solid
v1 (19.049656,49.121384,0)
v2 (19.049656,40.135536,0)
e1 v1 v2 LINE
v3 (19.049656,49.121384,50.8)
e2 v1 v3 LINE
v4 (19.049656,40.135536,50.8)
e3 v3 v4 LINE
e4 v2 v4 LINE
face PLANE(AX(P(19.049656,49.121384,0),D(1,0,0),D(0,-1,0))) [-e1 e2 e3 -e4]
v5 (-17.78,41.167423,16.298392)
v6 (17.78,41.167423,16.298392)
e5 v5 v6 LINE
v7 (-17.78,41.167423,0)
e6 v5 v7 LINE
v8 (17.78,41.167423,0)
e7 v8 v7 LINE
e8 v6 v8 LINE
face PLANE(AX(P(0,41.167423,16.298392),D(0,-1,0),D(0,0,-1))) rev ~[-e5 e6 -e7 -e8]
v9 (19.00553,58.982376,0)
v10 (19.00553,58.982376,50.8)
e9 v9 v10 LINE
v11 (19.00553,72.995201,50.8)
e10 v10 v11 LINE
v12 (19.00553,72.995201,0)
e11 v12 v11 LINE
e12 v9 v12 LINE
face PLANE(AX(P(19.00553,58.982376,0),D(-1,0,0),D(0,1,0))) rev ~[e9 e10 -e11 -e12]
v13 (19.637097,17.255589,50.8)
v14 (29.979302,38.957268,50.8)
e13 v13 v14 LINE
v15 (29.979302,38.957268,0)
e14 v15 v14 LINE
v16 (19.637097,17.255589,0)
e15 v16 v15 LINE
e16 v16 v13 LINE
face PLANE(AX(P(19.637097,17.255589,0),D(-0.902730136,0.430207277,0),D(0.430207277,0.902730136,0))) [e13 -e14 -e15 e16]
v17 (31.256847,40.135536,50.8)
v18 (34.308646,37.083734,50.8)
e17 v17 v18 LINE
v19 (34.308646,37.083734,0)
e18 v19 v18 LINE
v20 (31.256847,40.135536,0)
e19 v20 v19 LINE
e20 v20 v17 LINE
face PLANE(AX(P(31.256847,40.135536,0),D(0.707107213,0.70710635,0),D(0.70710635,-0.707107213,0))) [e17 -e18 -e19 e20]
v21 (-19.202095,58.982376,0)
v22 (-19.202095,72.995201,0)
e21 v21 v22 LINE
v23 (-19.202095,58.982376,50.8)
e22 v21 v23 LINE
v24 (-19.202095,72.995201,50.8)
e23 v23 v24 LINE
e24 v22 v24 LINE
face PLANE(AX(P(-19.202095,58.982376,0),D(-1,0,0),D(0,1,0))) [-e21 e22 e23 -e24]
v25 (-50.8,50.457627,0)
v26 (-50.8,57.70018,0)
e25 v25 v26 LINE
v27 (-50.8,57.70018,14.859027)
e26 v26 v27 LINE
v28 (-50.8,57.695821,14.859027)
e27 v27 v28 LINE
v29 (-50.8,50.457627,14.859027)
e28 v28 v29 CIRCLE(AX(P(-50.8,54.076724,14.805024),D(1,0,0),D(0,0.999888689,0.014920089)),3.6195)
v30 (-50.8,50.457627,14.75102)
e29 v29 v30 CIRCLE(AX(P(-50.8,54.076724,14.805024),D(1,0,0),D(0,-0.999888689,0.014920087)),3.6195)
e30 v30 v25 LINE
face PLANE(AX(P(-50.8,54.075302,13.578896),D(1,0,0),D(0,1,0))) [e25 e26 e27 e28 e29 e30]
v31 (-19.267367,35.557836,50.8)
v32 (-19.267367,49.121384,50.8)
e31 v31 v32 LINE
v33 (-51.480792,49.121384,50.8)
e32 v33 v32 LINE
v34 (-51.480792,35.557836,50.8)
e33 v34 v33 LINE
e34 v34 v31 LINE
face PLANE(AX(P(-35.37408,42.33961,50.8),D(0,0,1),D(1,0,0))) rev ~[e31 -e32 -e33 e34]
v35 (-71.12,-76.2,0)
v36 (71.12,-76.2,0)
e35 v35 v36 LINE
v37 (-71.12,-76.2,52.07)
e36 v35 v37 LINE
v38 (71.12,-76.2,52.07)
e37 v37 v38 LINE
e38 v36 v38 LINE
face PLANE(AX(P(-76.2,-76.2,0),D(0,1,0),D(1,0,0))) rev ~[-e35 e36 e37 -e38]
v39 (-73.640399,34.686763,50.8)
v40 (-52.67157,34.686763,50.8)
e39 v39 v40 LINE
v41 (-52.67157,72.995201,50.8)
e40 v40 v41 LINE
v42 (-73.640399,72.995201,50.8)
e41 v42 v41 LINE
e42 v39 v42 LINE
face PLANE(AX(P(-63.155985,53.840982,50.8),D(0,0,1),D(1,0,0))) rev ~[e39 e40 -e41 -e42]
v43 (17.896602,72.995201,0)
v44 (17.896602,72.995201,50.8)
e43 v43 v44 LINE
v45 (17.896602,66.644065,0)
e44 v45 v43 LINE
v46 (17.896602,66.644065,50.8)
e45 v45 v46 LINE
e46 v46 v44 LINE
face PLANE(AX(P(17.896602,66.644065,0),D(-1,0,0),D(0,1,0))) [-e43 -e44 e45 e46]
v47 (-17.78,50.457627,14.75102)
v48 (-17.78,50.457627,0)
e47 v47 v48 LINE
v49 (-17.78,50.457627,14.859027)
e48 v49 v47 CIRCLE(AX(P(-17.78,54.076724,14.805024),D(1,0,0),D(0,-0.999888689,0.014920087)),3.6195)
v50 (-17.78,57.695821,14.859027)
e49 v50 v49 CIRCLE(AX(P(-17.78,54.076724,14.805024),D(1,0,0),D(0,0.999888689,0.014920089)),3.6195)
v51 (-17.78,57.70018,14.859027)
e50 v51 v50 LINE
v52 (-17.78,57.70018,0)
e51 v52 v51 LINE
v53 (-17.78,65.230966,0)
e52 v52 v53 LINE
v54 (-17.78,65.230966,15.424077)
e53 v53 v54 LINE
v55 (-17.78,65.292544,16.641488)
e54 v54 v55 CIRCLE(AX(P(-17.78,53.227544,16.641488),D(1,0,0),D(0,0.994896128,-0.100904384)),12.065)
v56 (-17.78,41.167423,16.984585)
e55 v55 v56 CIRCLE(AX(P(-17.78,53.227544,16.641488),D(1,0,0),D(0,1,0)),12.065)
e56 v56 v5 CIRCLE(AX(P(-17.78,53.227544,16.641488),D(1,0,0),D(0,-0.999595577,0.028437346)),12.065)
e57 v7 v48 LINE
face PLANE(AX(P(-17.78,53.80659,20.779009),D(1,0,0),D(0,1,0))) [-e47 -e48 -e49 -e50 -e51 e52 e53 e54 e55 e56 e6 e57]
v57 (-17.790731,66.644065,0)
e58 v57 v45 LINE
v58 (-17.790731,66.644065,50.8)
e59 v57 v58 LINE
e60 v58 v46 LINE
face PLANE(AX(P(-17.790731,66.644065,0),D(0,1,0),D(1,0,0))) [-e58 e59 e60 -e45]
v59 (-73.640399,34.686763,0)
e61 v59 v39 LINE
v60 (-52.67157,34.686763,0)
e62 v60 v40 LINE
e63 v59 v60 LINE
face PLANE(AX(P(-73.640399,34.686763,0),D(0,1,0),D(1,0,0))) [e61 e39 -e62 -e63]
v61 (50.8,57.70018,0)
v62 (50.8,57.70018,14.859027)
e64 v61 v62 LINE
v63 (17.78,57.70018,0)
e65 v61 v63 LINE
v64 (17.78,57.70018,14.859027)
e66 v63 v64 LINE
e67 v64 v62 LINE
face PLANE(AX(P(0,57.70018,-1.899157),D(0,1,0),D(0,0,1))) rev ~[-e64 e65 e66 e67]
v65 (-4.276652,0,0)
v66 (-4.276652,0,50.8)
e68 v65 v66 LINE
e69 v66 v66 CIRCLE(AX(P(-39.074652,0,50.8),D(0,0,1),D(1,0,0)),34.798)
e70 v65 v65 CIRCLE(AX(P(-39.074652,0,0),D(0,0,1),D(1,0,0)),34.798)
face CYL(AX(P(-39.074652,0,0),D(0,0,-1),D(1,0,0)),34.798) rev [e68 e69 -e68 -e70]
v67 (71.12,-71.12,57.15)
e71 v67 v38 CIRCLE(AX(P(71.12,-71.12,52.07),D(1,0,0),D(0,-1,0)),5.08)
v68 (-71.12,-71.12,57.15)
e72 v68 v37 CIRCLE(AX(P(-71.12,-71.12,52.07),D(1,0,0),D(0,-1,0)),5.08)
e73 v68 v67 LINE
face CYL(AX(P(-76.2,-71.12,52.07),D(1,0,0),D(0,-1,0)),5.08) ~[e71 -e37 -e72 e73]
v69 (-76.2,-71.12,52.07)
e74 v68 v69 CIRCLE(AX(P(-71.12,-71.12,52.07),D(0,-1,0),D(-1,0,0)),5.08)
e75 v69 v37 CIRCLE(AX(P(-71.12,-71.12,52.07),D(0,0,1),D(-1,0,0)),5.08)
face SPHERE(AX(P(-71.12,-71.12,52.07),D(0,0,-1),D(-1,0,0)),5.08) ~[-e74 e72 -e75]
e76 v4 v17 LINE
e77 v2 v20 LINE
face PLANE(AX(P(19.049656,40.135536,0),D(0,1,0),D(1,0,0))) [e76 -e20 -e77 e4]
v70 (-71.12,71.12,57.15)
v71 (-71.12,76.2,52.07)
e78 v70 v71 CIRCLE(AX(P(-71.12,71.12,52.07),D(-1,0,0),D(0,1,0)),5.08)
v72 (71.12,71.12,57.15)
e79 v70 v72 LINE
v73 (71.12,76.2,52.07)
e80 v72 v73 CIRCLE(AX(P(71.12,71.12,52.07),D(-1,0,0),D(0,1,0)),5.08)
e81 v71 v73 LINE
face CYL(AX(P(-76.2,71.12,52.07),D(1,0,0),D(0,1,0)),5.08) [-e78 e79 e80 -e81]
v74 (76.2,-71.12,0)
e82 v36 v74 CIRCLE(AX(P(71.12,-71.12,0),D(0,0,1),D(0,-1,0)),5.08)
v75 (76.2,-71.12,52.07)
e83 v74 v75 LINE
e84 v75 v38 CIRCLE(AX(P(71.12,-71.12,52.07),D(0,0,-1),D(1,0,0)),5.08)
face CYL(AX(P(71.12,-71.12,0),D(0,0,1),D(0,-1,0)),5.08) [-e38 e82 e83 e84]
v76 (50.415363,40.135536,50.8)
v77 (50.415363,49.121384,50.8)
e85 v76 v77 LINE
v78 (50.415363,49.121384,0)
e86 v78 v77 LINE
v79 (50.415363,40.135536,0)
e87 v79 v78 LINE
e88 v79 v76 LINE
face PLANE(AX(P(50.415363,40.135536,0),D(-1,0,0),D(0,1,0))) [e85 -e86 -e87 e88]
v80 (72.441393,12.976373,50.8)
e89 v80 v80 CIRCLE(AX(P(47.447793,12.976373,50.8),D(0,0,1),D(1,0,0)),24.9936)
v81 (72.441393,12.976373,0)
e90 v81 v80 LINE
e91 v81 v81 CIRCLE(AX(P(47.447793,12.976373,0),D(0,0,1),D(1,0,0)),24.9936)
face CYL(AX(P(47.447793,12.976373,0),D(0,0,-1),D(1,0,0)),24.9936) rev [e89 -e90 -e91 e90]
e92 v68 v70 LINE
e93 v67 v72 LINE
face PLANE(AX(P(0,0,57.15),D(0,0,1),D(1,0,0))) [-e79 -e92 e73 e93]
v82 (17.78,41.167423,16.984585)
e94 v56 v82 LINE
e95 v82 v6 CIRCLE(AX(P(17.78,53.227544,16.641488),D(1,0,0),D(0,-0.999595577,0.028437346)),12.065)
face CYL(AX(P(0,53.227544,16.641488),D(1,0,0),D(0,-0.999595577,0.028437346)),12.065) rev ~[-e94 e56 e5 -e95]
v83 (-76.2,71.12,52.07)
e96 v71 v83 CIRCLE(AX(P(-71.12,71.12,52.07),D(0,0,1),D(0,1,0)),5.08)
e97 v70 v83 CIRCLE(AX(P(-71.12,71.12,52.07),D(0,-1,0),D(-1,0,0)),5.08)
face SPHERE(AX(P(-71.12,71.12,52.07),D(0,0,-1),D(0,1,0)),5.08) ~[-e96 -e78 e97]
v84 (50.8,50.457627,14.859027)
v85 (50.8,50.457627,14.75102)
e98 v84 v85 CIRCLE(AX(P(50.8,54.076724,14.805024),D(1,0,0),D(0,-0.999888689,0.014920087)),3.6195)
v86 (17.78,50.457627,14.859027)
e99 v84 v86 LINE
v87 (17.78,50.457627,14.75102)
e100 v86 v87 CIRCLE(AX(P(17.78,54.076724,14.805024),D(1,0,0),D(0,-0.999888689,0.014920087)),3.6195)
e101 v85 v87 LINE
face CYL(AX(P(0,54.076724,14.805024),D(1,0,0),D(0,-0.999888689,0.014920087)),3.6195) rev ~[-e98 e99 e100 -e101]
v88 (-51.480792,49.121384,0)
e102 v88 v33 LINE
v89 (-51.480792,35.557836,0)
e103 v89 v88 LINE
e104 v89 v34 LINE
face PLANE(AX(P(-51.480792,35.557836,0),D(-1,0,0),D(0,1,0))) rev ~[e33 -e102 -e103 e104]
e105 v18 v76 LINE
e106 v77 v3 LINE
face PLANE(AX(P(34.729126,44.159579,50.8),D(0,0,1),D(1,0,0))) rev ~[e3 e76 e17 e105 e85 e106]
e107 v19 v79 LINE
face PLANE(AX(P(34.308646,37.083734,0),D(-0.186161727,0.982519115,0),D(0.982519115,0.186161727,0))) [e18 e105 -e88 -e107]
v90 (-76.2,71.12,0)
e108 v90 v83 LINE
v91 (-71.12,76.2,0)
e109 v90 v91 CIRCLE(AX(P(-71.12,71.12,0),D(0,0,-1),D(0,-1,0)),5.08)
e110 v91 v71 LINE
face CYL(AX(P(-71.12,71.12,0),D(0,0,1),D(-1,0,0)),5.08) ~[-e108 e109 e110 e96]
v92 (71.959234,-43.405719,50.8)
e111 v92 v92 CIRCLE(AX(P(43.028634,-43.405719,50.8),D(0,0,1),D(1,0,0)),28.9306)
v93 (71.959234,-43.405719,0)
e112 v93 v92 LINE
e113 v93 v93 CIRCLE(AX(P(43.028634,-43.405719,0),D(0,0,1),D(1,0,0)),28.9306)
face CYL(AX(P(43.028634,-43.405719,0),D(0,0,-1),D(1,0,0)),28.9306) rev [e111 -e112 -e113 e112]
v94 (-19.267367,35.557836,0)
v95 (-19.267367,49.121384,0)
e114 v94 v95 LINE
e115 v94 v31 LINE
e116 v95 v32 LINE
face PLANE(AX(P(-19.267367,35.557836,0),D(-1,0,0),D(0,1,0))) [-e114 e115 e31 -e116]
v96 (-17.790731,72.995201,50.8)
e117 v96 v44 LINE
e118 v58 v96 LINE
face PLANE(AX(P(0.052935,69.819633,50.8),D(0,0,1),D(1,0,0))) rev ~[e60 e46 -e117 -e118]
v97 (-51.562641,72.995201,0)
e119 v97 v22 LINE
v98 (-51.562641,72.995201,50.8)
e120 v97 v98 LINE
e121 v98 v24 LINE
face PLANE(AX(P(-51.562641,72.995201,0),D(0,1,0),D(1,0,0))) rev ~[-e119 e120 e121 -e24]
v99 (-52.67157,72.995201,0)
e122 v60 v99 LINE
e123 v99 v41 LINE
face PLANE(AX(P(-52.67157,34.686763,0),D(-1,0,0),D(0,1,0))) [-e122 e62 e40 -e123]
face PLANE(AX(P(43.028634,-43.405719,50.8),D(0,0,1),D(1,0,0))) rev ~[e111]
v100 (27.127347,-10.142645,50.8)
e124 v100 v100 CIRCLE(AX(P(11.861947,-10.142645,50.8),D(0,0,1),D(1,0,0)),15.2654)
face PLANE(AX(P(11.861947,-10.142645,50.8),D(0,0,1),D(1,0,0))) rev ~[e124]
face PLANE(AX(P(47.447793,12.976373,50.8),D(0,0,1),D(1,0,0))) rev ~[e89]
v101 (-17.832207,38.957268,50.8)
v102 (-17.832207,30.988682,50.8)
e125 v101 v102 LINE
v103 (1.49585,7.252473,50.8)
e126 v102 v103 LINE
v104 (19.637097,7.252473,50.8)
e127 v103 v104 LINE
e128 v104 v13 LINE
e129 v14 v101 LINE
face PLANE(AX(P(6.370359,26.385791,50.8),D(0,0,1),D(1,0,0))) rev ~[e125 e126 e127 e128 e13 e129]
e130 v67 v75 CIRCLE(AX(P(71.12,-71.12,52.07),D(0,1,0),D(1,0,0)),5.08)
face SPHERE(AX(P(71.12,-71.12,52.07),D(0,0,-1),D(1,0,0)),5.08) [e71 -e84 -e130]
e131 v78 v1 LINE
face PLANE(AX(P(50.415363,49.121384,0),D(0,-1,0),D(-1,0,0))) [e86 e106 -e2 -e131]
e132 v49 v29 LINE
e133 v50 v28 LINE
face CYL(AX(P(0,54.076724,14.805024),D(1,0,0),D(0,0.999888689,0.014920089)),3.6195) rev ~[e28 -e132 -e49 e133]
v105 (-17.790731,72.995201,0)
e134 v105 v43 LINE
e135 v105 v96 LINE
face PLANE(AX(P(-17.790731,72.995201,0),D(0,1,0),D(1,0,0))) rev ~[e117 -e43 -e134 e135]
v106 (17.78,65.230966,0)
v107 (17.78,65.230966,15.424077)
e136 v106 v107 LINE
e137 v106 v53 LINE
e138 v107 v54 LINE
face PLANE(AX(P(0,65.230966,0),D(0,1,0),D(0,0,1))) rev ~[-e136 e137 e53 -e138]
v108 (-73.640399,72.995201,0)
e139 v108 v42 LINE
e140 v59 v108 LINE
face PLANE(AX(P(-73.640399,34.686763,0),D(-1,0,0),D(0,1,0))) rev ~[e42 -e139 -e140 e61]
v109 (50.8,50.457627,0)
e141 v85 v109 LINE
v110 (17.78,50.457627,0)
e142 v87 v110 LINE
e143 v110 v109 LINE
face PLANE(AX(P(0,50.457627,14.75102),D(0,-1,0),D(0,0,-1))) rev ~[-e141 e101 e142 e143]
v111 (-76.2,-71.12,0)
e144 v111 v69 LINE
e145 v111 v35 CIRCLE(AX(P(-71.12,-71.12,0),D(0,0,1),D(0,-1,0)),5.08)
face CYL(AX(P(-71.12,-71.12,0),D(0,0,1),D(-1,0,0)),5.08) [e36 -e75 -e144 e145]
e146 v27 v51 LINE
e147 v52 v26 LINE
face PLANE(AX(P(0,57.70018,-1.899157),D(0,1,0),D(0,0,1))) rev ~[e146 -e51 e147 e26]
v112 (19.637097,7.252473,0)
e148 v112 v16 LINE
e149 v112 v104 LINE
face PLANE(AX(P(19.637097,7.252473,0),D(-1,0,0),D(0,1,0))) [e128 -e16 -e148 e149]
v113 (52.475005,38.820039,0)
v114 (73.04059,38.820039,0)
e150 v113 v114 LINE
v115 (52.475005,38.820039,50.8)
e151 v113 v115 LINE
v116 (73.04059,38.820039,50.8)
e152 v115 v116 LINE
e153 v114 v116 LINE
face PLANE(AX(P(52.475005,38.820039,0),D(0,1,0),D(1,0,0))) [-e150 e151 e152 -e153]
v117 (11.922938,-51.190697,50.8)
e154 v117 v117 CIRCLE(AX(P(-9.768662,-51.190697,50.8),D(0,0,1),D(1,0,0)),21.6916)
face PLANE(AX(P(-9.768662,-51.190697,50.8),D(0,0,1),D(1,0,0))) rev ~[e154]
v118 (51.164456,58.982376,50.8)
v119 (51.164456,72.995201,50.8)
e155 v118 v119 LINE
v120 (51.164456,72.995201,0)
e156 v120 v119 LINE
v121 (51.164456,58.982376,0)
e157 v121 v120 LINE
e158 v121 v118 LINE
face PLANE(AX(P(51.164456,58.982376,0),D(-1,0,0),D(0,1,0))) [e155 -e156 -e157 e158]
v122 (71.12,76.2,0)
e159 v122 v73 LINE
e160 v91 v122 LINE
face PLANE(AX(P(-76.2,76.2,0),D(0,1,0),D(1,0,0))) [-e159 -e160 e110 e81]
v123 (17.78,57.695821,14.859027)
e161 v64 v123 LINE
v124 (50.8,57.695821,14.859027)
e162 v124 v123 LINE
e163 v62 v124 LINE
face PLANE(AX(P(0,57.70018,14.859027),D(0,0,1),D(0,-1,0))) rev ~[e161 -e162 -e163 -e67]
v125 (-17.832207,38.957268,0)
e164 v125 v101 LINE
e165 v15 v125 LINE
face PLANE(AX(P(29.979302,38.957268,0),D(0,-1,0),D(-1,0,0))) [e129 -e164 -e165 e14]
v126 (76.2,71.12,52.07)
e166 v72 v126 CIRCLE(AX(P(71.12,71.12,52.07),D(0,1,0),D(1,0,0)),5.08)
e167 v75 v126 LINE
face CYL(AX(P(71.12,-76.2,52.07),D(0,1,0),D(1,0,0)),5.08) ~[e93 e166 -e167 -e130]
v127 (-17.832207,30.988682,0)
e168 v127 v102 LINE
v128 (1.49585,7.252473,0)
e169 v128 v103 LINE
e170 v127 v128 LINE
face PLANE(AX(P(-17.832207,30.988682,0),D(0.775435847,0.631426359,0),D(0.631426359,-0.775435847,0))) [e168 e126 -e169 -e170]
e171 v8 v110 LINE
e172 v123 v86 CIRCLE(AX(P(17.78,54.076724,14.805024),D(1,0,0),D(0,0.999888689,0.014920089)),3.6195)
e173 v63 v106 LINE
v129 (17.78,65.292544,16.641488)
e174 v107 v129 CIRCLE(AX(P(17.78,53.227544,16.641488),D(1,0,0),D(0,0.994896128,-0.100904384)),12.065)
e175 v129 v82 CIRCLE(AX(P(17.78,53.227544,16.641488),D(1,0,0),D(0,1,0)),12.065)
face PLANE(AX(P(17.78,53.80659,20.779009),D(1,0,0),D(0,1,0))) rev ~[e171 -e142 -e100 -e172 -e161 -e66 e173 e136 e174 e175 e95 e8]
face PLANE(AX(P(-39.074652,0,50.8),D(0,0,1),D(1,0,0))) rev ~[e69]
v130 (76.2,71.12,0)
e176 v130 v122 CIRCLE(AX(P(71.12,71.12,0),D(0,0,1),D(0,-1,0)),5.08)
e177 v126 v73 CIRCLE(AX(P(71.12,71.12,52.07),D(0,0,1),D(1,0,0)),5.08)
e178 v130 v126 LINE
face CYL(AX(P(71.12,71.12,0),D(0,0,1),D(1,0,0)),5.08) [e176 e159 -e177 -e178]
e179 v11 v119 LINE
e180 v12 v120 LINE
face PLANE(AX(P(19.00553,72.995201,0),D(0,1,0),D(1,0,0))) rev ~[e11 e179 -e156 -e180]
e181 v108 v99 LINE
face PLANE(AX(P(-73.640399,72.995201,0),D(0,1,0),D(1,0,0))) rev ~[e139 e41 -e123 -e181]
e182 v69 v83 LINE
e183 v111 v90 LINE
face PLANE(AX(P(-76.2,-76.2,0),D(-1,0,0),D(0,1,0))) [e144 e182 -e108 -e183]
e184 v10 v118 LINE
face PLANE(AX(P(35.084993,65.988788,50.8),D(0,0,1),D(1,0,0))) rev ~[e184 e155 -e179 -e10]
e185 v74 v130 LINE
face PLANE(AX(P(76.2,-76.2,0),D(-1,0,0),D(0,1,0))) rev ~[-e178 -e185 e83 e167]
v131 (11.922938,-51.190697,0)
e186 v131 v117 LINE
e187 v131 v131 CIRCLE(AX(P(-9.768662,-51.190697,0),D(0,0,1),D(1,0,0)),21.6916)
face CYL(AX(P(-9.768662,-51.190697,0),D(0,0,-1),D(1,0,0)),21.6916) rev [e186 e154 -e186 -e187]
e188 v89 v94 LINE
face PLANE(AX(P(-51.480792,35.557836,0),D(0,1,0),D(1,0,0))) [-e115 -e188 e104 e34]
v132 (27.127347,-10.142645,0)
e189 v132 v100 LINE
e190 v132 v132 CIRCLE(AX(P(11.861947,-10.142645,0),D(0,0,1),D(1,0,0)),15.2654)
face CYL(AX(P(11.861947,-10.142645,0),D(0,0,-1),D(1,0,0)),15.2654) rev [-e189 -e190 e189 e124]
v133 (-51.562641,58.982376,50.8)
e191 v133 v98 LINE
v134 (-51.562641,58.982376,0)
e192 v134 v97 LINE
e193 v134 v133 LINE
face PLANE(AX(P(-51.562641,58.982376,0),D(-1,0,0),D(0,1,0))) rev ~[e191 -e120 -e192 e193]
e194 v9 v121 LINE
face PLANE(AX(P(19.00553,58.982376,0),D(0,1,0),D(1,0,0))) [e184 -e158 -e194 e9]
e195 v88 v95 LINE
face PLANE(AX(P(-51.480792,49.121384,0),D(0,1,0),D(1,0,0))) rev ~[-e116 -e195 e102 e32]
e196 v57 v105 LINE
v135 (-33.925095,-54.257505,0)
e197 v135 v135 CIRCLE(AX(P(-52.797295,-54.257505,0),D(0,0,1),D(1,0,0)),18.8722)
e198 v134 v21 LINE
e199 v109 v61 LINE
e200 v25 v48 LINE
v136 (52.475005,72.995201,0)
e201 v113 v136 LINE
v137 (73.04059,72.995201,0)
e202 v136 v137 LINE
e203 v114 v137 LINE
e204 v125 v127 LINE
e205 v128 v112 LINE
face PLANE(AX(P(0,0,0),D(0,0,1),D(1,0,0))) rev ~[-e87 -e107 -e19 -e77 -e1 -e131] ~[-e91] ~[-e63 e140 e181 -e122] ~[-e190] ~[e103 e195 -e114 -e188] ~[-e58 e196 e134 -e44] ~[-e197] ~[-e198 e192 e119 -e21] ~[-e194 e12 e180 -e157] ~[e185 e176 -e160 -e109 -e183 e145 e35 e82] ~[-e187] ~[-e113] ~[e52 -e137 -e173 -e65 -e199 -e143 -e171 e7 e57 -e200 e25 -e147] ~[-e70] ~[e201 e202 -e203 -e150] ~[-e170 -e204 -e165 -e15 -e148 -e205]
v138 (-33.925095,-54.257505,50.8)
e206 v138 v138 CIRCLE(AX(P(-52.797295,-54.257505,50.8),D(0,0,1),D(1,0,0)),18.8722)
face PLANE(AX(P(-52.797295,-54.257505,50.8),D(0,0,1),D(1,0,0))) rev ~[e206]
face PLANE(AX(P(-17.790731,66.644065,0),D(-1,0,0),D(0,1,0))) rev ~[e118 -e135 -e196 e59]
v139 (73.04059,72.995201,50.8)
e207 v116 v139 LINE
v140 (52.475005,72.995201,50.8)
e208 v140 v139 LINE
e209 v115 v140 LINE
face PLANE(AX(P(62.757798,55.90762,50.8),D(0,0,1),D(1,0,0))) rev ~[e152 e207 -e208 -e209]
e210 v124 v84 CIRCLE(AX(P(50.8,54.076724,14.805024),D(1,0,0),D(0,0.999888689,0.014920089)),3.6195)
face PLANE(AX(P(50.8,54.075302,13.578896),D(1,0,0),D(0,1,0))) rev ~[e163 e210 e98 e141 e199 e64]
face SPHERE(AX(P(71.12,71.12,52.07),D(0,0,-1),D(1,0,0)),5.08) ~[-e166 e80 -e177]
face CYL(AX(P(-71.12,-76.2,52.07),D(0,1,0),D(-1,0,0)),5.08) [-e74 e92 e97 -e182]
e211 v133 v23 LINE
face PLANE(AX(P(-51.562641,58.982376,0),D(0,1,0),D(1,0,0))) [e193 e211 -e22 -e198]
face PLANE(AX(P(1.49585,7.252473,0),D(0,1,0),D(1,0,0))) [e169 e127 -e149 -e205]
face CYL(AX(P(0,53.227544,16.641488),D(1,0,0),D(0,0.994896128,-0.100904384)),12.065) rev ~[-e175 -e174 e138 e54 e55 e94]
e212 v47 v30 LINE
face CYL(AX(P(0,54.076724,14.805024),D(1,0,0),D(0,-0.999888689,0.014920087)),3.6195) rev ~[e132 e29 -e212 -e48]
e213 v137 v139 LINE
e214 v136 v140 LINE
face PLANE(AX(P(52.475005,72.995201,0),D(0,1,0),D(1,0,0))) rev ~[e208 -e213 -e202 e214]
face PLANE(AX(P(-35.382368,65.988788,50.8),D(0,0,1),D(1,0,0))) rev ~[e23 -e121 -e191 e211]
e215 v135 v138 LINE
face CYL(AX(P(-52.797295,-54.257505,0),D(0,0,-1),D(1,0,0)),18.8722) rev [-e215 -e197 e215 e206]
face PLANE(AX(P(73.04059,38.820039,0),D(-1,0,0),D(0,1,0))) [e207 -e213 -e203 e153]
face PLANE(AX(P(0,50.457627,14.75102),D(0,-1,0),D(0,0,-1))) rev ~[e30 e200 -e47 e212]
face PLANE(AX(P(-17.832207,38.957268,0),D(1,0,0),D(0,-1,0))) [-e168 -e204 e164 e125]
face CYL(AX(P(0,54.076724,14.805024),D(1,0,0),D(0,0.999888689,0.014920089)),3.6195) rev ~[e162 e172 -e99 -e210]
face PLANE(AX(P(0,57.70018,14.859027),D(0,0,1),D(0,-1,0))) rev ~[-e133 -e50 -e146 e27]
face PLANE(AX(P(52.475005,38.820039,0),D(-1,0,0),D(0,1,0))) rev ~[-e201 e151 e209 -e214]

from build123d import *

# Parameters (mm, degrees)
F0_W      = 152.4
F0_H      = 152.4
F1_DEPTH  = 57.15
F2_R      = 5.08
F3_R      = 18.8722
F3_R_2    = 21.6916
F3_R_3    = 28.9306
F3_R_4    = 34.798
F3_R_5    = 15.2654
F3_R_6    = 24.9936
F4_DEPTH  = 50.8
F6_DEPTH  = 17.78
F8_DEPTH  = 50.8
F9_W      = 20.9688283503
F9_H      = 38.3084379137
F9_W_2    = 32.3605462909
F9_H_2    = 14.012824744
F9_W_3    = 35.6873329729
F9_H_3    = 6.3511356711
F9_W_4    = 32.1589261293
F9_W_5    = 20.5655843019
F9_H_4    = 34.1751612723
F10_DEPTH = 50.8
F12_DEPTH = 50.8
F13_W     = 32.2134252638
F13_H     = 13.5635472834
F14_DEPTH = 50.8


with BuildPart() as f1:
    # F0 (on Top) → F1 (new body)
    with BuildSketch(Plane.XY):
        Rectangle(F0_W, F0_H)
    extrude(amount=F1_DEPTH)

    # F2
    f2_edges = [f1.edges().sort_by_distance(p)[0] for p in [
        (-76.2, -76.2, 28.575),
        (76.2, -76.2, 28.575),
        (76.2, 76.2, 28.575),
        (-76.2, 76.2, 28.575),
        (76.2, 0, 57.15),
        (0, 76.2, 57.15),
        (-76.2, 0, 57.15),
        (0, -76.2, 57.15),
    ]]
    fillet(f2_edges, radius=F2_R)

    # F3 (on Top) → F4 (cut)
    with BuildSketch(Plane.XY):
        with Locations((-52.7972951531, -54.257504642)):
            Circle(F3_R)
        with Locations((-9.7686620429, -51.1906966567)):
            Circle(F3_R_2)
        with Locations((43.0286340415, -43.4057191014)):
            Circle(F3_R_3)
        with Locations((-39.074651897, 0)):
            Circle(F3_R_4)
        with Locations((11.8619473651, -10.1426448673)):
            Circle(F3_R_5)
        with Locations((47.4477931857, 12.9763726145)):
            Circle(F3_R_6)
    extrude(amount=F4_DEPTH, mode=Mode.SUBTRACT)

    # F5 (on Right) → F6 (cut, symmetric)
    with BuildSketch(Plane.YZ):
        with BuildLine():
            ThreePointArc((65.2309656143, 15.4240769103), (65.2771394427, 16.0320044258), (65.2925438309, 16.6414882988))
            ThreePointArc((65.2925438309, 16.6414882988), (53.3991094682, 28.7052683959), (41.1674231956, 16.9845848792))
            Line((41.1674231956, 16.9845848792), (65.2309656143, 16.9845848792))
            Line((65.2309656143, 16.9845848792), (65.2309656143, 15.4240769103))
        make_face()
        with BuildLine():
            Line((41.1674231956, 16.2983917184), (41.1674231956, 16.9845848792))
            ThreePointArc((41.1674231956, 16.9845848792), (41.1625438309, 16.6414882988), (41.1674231956, 16.2983917184))
        make_face()
        with BuildLine():
            Line((65.2309656143, 16.9845848792), (41.1674231956, 16.9845848792))
            Line((41.1674231956, 16.9845848792), (41.1674231956, 16.2983917184))
            ThreePointArc((41.1674231956, 16.2983917184), (52.7894681686, 4.584444104), (65.2309656143, 15.4240769103))
            Line((65.2309656143, 15.4240769103), (65.2309656143, 16.9845848792))
        make_face()
        with BuildLine():
            Line((65.2309656143, 0), (65.2309656143, 15.4240769103))
            ThreePointArc((65.2309656143, 15.4240769103), (52.7894681686, 4.584444104), (41.1674231956, 16.2983917184))
            Line((41.1674231956, 16.2983917184), (41.1674231956, 0))
            Line((41.1674231956, 0), (65.2309656143, 0))
        make_face()
    extrude(amount=F6_DEPTH, both=True, mode=Mode.SUBTRACT)

    # F7 (on Right) → F8 (cut, symmetric)
    with BuildSketch(Plane.YZ):
        with BuildLine():
            ThreePointArc((50.4576266435, 14.7510202975), (54.1037261363, 11.1856242821), (57.6962237544, 14.8050235584))
            ThreePointArc((57.6962237544, 14.8050235584), (57.6961230307, 14.8320259403), (57.6958208653, 14.8590268194))
            Line((57.6958208653, 14.8590268194), (50.4576266435, 14.8590268194))
            Line((50.4576266435, 14.8590268194), (50.4576266435, 14.7510202975))
        make_face()
        with BuildLine():
            ThreePointArc((57.6958208653, 14.8590268194), (57.6961230307, 14.8320259403), (57.6962237544, 14.8050235584))
            ThreePointArc((57.6962237544, 14.8050235584), (54.1037261363, 11.1856242821), (50.4576266435, 14.7510202975))
            Line((50.4576266435, 14.7510202975), (50.4576266435, -1.8991571851))
            Line((50.4576266435, -1.8991571851), (57.7001795173, -1.8991571851))
            Line((57.7001795173, -1.8991571851), (57.7001795173, 14.8590268194))
            Line((57.7001795173, 14.8590268194), (57.6958208653, 14.8590268194))
        make_face()
        with BuildLine():
            Line((50.4576266435, 14.8590268194), (57.6958208653, 14.8590268194))
            ThreePointArc((57.6958208653, 14.8590268194), (54.0767237544, 18.4245235584), (50.4576266435, 14.8590268194))
        make_face()
        with BuildLine():
            ThreePointArc((50.4576266435, 14.8590268194), (50.4572237544, 14.8050235584), (50.4576266435, 14.7510202975))
            Line((50.4576266435, 14.7510202975), (50.4576266435, 14.8590268194))
        make_face()
    extrude(amount=F8_DEPTH, both=True, mode=Mode.SUBTRACT)

    # F9 (on Top) → F10 (cut)
    with BuildSketch(Plane.XY):
        with Locations((-63.155984506, 53.8409817964)):
            Rectangle(F9_W, F9_H)
        with Locations((-35.3823676705, 65.9887883812)):
            Rectangle(F9_W_2, F9_H_2)
        with Locations((0.0529354438, 69.8196329176)):
            Rectangle(F9_W_3, F9_H_3)
        with Locations((35.0849926472, 65.9887883812)):
            Rectangle(F9_W_4, F9_H_2)
        with Locations((62.7577975392, 55.9076201171)):
            Rectangle(F9_W_5, F9_H_4)
    extrude(amount=F10_DEPTH, mode=Mode.SUBTRACT)

    # F11 (on Top) → F12 (cut)
    with BuildSketch(Plane.XY):
        Polygon((29.9793016165, 38.9572679996), (-17.8322065622, 38.9572679996), (-17.8322065622, 30.9886820614), (1.4958502725, 7.2524729185), (19.6370966733, 7.2524729185), (19.6370966733, 17.255589366), align=None)
    extrude(amount=F12_DEPTH, mode=Mode.SUBTRACT)

    # F13 (on Top) → F14 (cut)
    with BuildSketch(Plane.XY):
        with Locations((-35.3740798309, 42.3396099359)):
            Rectangle(F13_W, F13_H)
        Polygon((50.4153631628, 49.1213835776), (19.0496556461, 49.1213835776), (19.0496556461, 40.1355363429), (31.2568470836, 40.1355363429), (34.3086458743, 37.0837338269), (50.4153631628, 40.1355363429), align=None)
    extrude(amount=F14_DEPTH, mode=Mode.SUBTRACT)


solid = f1.part
